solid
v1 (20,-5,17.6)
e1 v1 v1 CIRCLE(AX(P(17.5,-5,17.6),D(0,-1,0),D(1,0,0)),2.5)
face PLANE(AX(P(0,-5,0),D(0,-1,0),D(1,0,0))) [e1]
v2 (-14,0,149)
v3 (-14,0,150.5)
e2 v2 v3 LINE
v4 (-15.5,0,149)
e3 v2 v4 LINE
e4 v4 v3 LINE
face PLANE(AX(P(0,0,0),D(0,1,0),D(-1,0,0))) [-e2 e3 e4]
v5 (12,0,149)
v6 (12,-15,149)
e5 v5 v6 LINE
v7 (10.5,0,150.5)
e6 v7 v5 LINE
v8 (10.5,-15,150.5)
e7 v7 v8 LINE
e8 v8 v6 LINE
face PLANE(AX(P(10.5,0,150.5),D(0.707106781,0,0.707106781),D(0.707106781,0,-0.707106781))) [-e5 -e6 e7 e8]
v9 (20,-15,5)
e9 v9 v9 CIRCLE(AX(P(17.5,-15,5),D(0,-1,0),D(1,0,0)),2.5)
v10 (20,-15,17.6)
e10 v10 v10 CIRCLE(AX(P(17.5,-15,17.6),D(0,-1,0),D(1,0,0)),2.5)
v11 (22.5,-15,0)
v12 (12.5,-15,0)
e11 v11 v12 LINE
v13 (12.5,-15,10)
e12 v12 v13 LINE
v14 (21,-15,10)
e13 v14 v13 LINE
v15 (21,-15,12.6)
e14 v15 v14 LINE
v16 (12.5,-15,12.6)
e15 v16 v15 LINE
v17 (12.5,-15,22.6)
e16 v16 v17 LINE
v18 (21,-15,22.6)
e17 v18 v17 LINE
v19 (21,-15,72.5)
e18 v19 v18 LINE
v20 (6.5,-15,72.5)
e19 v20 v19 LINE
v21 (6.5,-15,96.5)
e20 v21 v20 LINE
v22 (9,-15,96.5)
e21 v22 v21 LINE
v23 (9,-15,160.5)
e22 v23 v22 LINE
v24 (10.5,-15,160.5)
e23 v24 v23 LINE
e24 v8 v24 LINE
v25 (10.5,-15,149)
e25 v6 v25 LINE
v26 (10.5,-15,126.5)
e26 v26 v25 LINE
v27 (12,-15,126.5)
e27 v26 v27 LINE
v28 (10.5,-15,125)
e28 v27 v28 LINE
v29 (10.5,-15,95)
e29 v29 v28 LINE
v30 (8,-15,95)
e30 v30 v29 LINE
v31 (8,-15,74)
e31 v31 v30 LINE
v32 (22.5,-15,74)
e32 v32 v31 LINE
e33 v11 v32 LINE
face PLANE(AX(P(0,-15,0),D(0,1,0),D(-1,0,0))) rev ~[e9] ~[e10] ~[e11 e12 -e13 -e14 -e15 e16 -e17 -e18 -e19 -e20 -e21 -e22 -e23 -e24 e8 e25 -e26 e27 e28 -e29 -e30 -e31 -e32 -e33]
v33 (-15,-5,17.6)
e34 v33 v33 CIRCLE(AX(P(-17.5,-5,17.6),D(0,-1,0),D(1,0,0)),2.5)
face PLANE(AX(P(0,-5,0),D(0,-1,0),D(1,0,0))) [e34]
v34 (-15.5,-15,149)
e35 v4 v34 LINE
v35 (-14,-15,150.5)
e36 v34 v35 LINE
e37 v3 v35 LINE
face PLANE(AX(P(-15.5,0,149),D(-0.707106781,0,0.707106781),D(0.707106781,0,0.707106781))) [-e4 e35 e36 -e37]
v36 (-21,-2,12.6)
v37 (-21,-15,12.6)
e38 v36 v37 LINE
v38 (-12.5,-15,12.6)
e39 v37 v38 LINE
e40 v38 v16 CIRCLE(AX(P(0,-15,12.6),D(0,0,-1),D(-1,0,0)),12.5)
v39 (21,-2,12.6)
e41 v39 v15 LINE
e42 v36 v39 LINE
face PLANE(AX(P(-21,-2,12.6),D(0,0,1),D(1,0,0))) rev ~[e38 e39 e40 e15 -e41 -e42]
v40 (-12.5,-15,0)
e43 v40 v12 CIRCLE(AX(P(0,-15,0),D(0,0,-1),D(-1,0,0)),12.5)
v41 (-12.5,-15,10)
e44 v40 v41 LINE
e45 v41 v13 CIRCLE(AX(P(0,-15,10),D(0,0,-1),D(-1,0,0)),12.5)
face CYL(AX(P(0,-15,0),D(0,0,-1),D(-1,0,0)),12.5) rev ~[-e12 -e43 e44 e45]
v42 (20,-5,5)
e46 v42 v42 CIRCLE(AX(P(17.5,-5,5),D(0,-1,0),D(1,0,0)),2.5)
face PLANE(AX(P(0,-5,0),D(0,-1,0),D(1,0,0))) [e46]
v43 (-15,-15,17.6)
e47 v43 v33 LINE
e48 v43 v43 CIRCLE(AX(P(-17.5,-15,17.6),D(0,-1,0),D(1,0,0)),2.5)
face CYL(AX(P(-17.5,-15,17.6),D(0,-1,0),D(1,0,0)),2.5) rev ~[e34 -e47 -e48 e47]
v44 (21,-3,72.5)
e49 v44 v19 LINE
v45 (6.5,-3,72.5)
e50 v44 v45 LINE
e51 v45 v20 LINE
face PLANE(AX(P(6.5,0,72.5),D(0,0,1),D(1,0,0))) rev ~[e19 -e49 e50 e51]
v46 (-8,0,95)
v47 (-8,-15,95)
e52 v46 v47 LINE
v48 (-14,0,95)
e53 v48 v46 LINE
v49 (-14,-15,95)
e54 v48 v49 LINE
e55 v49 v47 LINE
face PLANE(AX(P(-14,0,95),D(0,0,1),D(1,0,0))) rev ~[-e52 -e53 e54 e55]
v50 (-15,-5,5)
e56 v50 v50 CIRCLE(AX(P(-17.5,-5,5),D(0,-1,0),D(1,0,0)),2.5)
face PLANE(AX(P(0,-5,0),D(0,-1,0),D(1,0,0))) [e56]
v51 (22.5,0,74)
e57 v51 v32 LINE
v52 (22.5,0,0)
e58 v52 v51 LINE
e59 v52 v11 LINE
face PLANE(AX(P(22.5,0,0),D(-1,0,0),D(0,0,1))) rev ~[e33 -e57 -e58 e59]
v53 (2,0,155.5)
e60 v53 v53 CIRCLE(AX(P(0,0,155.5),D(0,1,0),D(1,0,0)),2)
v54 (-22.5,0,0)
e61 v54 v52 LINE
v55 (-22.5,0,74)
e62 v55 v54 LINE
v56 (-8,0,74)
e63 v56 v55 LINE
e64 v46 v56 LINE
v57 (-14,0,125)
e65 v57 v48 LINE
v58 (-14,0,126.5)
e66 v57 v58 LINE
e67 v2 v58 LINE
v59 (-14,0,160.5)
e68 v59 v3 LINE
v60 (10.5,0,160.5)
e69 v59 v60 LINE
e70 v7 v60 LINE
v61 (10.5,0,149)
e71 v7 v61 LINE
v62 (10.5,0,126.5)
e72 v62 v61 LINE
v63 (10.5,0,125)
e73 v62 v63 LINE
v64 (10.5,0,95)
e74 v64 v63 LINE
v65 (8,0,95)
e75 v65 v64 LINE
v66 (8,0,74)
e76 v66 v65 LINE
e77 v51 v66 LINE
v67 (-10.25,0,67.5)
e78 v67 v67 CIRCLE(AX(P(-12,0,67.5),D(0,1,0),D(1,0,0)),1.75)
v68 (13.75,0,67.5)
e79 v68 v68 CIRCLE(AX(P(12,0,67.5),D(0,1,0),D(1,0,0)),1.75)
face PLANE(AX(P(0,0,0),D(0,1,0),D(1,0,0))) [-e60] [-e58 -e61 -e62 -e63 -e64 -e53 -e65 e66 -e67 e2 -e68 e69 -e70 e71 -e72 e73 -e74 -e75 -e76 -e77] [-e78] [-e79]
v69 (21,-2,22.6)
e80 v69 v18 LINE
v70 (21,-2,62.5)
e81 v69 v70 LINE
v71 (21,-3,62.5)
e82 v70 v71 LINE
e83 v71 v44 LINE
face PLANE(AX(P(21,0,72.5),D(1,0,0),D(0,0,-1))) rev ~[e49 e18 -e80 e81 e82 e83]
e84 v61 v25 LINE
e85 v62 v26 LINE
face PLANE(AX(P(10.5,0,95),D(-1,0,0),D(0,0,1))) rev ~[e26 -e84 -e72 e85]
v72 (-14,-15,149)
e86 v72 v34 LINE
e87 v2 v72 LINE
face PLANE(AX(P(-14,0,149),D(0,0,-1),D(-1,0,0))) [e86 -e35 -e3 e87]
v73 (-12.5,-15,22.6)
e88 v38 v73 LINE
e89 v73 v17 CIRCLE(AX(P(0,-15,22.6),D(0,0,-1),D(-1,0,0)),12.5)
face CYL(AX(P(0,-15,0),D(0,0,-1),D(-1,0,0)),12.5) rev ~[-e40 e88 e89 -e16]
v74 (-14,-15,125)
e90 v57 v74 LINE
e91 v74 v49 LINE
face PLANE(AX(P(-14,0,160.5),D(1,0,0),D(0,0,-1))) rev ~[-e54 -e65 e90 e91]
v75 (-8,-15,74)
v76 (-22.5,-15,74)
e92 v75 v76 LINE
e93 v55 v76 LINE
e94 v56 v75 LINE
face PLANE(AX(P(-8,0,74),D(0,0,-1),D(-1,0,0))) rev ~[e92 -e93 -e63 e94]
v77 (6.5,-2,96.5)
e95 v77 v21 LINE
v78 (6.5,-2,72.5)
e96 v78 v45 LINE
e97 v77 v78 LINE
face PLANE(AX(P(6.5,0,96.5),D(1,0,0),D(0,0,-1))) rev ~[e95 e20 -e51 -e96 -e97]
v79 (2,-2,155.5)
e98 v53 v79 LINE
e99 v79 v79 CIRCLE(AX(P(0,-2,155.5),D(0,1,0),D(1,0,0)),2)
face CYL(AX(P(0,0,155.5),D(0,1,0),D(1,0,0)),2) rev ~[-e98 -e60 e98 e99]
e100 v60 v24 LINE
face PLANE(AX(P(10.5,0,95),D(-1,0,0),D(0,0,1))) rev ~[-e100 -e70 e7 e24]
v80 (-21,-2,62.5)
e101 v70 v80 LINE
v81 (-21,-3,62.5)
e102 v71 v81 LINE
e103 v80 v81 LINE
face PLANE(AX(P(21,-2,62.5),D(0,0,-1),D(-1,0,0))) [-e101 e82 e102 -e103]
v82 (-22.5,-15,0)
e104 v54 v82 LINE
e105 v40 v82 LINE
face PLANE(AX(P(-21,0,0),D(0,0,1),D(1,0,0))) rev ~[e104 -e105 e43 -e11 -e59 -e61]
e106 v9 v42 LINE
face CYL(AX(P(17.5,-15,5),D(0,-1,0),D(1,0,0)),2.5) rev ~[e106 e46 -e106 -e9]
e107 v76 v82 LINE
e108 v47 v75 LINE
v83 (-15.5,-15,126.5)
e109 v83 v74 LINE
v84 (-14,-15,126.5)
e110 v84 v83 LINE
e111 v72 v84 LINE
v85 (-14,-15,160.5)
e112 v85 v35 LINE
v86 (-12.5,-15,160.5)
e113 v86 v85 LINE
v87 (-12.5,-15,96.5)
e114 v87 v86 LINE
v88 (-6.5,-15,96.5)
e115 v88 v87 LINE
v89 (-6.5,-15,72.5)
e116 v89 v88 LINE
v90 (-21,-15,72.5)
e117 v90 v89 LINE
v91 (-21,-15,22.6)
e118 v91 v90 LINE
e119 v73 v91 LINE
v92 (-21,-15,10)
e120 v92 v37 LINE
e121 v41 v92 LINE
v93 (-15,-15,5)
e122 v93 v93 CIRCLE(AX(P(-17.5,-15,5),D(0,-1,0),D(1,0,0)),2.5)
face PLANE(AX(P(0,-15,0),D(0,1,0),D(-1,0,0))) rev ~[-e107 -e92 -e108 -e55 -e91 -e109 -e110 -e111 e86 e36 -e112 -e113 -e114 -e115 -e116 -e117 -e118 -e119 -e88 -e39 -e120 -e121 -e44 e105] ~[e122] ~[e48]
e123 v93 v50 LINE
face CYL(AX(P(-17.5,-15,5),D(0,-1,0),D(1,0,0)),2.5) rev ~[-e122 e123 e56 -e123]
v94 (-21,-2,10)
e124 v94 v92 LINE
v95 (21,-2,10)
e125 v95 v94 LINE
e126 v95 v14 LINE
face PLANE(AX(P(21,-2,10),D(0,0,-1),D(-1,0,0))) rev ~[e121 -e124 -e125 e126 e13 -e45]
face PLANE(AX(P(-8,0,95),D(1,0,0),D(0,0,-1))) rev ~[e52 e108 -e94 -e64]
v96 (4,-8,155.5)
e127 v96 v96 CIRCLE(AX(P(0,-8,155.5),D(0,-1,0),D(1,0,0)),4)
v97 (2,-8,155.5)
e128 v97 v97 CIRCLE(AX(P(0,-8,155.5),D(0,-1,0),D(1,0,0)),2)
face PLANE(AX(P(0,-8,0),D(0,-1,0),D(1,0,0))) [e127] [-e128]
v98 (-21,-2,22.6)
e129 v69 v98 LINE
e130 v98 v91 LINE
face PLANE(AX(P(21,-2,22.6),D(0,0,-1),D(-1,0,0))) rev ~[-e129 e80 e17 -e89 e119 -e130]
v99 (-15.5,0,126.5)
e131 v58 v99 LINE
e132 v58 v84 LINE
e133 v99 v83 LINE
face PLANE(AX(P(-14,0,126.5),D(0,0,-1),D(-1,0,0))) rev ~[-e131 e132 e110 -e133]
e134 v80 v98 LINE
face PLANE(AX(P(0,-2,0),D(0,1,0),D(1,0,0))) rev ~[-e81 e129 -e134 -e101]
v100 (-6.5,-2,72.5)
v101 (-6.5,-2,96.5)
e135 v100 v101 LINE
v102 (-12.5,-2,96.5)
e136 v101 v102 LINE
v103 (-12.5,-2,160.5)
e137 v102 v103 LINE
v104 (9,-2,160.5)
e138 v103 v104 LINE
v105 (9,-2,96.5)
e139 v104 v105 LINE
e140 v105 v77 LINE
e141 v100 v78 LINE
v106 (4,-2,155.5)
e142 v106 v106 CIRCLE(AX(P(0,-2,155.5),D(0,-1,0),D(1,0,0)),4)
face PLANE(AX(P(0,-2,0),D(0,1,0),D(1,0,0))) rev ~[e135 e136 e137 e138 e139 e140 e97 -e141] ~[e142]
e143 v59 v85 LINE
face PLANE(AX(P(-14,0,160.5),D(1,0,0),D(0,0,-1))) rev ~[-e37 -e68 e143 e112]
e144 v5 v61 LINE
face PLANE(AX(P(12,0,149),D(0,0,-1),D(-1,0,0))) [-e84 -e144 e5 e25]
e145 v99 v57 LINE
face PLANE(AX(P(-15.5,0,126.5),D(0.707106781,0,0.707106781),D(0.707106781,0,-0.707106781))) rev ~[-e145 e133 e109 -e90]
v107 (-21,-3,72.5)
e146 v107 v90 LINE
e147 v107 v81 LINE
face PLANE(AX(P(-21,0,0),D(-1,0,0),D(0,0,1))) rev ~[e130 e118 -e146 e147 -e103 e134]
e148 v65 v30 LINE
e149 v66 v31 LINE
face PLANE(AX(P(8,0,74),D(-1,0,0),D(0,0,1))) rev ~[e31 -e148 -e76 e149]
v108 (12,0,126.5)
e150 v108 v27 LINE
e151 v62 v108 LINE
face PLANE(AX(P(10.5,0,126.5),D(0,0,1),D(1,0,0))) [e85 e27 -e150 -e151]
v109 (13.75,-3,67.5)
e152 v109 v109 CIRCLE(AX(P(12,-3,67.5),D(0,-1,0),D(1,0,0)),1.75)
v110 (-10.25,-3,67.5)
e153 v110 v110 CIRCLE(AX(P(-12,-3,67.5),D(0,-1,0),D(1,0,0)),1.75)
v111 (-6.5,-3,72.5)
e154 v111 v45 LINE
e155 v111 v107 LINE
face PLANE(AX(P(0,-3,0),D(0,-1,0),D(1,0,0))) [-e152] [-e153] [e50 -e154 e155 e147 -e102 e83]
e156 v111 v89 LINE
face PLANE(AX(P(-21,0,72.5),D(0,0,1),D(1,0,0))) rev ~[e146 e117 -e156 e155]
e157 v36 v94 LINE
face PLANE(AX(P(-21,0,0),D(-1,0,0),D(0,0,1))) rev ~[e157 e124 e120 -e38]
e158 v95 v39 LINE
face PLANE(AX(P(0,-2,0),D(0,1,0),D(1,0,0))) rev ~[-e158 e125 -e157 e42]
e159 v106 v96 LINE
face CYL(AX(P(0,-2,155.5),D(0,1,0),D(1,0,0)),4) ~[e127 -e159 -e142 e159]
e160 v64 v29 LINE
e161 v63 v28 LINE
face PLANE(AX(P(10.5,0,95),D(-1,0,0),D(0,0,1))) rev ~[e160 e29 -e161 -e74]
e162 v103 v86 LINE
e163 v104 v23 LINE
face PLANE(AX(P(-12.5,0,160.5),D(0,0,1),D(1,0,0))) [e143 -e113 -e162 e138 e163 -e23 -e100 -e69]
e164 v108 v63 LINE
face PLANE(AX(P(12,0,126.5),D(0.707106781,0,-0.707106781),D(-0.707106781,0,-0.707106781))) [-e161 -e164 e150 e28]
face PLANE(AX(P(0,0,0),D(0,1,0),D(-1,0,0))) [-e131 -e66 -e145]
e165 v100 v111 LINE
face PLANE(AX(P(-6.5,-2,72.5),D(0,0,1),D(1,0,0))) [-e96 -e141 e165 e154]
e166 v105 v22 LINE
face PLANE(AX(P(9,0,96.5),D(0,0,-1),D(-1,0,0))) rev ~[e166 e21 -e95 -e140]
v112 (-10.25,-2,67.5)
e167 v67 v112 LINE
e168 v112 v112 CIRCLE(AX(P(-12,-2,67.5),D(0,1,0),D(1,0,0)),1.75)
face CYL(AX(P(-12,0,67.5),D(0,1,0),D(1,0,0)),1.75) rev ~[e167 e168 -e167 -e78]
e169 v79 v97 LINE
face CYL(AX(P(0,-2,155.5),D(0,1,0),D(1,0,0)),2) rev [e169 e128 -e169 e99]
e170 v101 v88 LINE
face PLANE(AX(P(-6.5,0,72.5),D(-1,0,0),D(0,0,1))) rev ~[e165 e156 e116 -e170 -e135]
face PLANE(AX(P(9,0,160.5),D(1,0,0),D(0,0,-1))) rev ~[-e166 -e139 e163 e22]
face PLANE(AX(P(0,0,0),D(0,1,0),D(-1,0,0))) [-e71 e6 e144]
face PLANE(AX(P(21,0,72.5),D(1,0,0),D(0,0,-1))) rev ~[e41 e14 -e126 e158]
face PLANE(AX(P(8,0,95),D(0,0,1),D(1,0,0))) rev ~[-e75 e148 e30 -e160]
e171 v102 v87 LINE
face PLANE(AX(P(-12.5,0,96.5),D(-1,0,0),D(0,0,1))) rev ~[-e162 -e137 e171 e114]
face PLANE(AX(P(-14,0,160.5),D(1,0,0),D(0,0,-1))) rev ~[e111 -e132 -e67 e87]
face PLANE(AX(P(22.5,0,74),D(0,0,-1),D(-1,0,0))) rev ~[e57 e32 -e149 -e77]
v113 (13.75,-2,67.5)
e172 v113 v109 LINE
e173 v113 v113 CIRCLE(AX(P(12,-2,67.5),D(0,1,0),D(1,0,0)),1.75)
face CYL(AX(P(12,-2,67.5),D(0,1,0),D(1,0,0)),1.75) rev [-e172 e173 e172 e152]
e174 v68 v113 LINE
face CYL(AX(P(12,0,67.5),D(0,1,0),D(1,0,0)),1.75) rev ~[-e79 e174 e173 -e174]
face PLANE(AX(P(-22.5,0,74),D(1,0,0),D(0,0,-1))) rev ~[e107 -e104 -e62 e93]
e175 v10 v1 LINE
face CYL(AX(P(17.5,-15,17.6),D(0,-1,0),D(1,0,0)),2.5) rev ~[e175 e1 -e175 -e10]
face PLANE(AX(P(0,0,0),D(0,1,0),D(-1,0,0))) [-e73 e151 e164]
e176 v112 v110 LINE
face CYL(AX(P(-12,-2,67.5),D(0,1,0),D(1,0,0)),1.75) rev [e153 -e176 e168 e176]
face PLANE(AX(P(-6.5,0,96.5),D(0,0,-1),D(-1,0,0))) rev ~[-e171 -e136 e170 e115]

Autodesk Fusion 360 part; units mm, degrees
sketch "スケッチ1" plane through (0, 0, 0) normal (0, 1, 0) x (1, 0, 0)
  line L0 (-21, 0) -> (21, 0)
  line L1 (21, 0) -> (21, -72.5)
  line L2 (21, -72.5) -> (-21, -72.5)
  line L3 (-21, -72.5) -> (-21, 0)
  line L4 (6.5, -72.5) -> (-6.5, -72.5)
  line L5 (-6.5, -72.5) -> (-6.5, -96.5)
  line L6 (-6.5, -96.5) -> (6.5, -96.5)
  line L7 (6.5, -96.5) -> (6.5, -72.5)
  line L8 (-12.5, -160.5) -> (9, -160.5)
  line L9 (9, -160.5) -> (9, -96.5)
  line L10 (9, -96.5) -> (-12.5, -96.5)
  line L11 (-12.5, -96.5) -> (-12.5, -160.5)
  line L12 (-21, -67.5) -> (21, -67.5) construction
  circle A0 centre (-12, -67.5) radius 1.75
  circle A1 centre (12, -67.5) radius 1.75
  line L13 (0, -1.75) -> (0, -22.5)
  circle A2 centre (0, -155.5) radius 2
  dimension "d1" = 42
  dimension "d2" = 5
  dimension "d3" = 3.5
  dimension "d4" = 3.5
  dimension "d5" = 24
  dimension "d6" = 72.5
  dimension "d7" = 13
  dimension "d8" = 2.5
  dimension "d9" = 6
  dimension "d10" = 24
  dimension "d11" = 64
  dimension "d12" = 4
  dimension "d13" = 5
extrude "押し出し1" add sketch "スケッチ1" against normal blind 2 makes body 1
sketch "スケッチ2" plane through (0, 0, 0) normal (0, 1, 0) x (-1, 0, 0)
  circle A0 centre (12, 67.5) radius 1.75
  circle A1 centre (-12, 67.5) radius 1.75
  circle A2 centre (0, 155.5) radius 2
  line L0 (6.5, 72.5) -> (6.5, 96.5)
  line L1 (6.5, 96.5) -> (12.5, 96.5)
  line L2 (12.5, 96.5) -> (12.5, 160.5)
  line L3 (12.5, 160.5) -> (-9, 160.5)
  line L4 (-9, 160.5) -> (-9, 96.5)
  line L5 (-9, 96.5) -> (-6.5, 96.5)
  line L6 (-6.5, 96.5) -> (-6.5, 72.5)
  line L7 (-6.5, 72.5) -> (-21, 72.5)
  line L8 (-21, 72.5) -> (-21, 0)
  line L9 (-21, 0) -> (21, 0)
  line L10 (21, 0) -> (21, 72.5)
  line L11 (21, 72.5) -> (6.5, 72.5)
  line L12 (-21, 0) -> (-22.5, 0)
  line L13 (-22.5, 0) -> (-22.5, 74)
  line L14 (-22.5, 74) -> (-8, 74)
  line L15 (-8, 74) -> (-8, 95)
  line L16 (-8, 95) -> (-10.5, 95)
  line L17 (-10.5, 95) -> (-10.5, 160.5)
  line L18 (-10.5, 160.5) -> (-9, 160.5)
  line L19 (12.5, 160.5) -> (14, 160.5)
  line L20 (14, 160.5) -> (14, 95)
  line L21 (14, 95) -> (8, 95)
  line L22 (8, 95) -> (8, 74)
  line L23 (8, 74) -> (22.5, 74)
  line L24 (22.5, 74) -> (22.5, 0)
  line L25 (22.5, 0) -> (21, 0)
  dimension "d16" = 1.5
  dimension "d17" = 1.5
  dimension "d18" = 1.5
  dimension "d19" = 1.5
  dimension "d20" = 1.5
  dimension "d22" = 1.5
  dimension "d23" = 1.5
  dimension "d24" = 1.5
  dimension "d25" = 1.5
  dimension "d26" = 1.5
extrude "押し出し2" add sketch "スケッチ2" against normal blind 15 contours L0 L1 L2 L10 L11 L19 L20 L21 L22 L23 L24 L25 | L4 L5 L6 L7 L8 L12 L13 L14 L15 L16 L17 L18 bodies 1
sketch "スケッチ3" plane through (0, -2, 0) normal (0, -1, 0) x (1, 0, 0)
  circle A0 centre (-12, 67.5) radius 1.75
  circle A1 centre (12, 67.5) radius 1.75
  circle A2 centre (0, 155.5) radius 2
  line L0 (-6.5, 96.5) -> (-6.5, 72.5)
  line L1 (-6.5, 72.5) -> (-21, 72.5)
  line L2 (-21, 72.5) -> (-21, 0)
  line L3 (-21, 0) -> (21, 0)
  line L4 (21, 0) -> (21, 72.5)
  line L5 (21, 72.5) -> (6.5, 72.5)
  line L6 (6.5, 72.5) -> (6.5, 96.5)
  line L7 (6.5, 96.5) -> (9, 96.5)
  line L8 (9, 96.5) -> (9, 160.5)
  line L9 (9, 160.5) -> (-12.5, 160.5)
  line L10 (-12.5, 160.5) -> (-12.5, 96.5)
  line L11 (-12.5, 96.5) -> (-6.5, 96.5)
  line L12 (-21, 0) -> (21, 0)
  line L13 (21, 0) -> (21, 10)
  line L14 (21, 10) -> (-21, 10)
  line L15 (-21, 10) -> (-21, 0)
  line L16 (-21, 12.6) -> (21, 12.6)
  line L17 (21, 12.6) -> (21, 22.6)
  line L18 (21, 22.6) -> (-21, 22.6)
  line L19 (-21, 22.6) -> (-21, 12.6)
  dimension "d29" = 10
  dimension "d30" = 10
  dimension "d31" = 2.6
extrude "押し出し3" add sketch "スケッチ3" along normal up to surface (13 mm away) contours L2 L4 L16 L17 L18 L19 | L2 L3 L4 L12 L13 L14 L15 bodies 1
sketch "スケッチ4" plane through (0, 0, 0) normal (0, 0, -1) x (1, 0, 0)
  line L0 (-22.5, 0) -> (22.5, 0)
  line L1 (22.5, 0) -> (22.5, 15)
  line L2 (22.5, 15) -> (-22.5, 15)
  line L3 (-22.5, 15) -> (-22.5, 0)
  arc A0 (-12.5, 15) -> (12.5, 15) centre (0, 15) ccw
  dimension "d34" = 25
extrude "押し出し4" cut sketch "スケッチ4" against normal up to surface (22.6 mm away) contours L2 A0 bodies 1
sketch "スケッチ10" plane through (0, -2, 0) normal (0, -1, 0) x (1, 0, 0)
  circle A0 centre (12, 67.5) radius 1.75
  circle A1 centre (0, 155.5) radius 2
  circle A2 centre (-12, 67.5) radius 1.75
  line L0 (-21, 22.6) -> (21, 22.6)
  line L1 (21, 22.6) -> (21, 72.5)
  line L2 (21, 72.5) -> (6.5, 72.5)
  line L3 (6.5, 72.5) -> (6.5, 96.5)
  line L4 (6.5, 96.5) -> (9, 96.5)
  line L5 (9, 96.5) -> (9, 160.5)
  line L6 (9, 160.5) -> (-12.5, 160.5)
  line L7 (-12.5, 160.5) -> (-12.5, 96.5)
  line L8 (-12.5, 96.5) -> (-6.5, 96.5)
  line L9 (-6.5, 96.5) -> (-6.5, 72.5)
  line L10 (-6.5, 72.5) -> (-21, 72.5)
  line L11 (-21, 72.5) -> (-21, 22.6)
  circle A3 centre (0, 155.5) radius 4
  dimension "d48" = 8
extrude "押し出し9" add sketch "スケッチ10" along normal blind 6 contours A3 bodies 1
sketch "スケッチ9" plane through (0, -2, 0) normal (0, -1, 0) x (1, 0, 0)
  circle A0 centre (12, 67.5) radius 1.75
  circle A1 centre (-12, 67.5) radius 1.75
  line L0 (-21, 22.6) -> (21, 22.6)
  line L1 (21, 22.6) -> (21, 72.5)
  line L2 (21, 72.5) -> (6.5, 72.5)
  line L3 (6.5, 72.5) -> (6.5, 96.5)
  line L4 (6.5, 96.5) -> (9, 96.5)
  line L5 (9, 96.5) -> (9, 160.5)
  line L6 (9, 160.5) -> (-12.5, 160.5)
  line L7 (-12.5, 160.5) -> (-12.5, 96.5)
  line L8 (-12.5, 96.5) -> (-6.5, 96.5)
  line L9 (-6.5, 96.5) -> (-6.5, 72.5)
  line L10 (-6.5, 72.5) -> (-21, 72.5)
  line L11 (-21, 72.5) -> (-21, 22.6)
  line L12 (-21, 72.5) -> (21, 72.5)
  line L13 (21, 72.5) -> (21, 62.5)
  line L14 (21, 62.5) -> (-21, 62.5)
  line L15 (-21, 62.5) -> (-21, 72.5)
  circle A2 centre (0, 155.5) radius 4
  dimension "d45" = 10
extrude "押し出し8" add sketch "スケッチ9" along normal blind 1 contours L1 L2 L10 L11 L12 L13 L14 L15 bodies 1
ref_plane "作業平面1" through (0, -20, 80.25) normal (0, -1, 0) x (0, 0, -1)
sketch "スケッチ6" plane through (0, -20, 0) normal (0, -1, 0) x (-1, 0, 0)
  line L0 (-22.5, 0) -> (22.5, 0)
  line L1 (22.5, 0) -> (22.5, -22.6)
  line L2 (22.5, -22.6) -> (-22.5, -22.6)
  line L3 (-22.5, -22.6) -> (-22.5, 0)
  line L4 (-22.5, 0) -> (-22.5, -74)
  line L5 (-12.5, -22.6) -> (-21, -22.6)
  line L6 (-12.5, 0) -> (-22.5, 0)
  line L7 (22.5, -74) -> (22.5, 0)
extrude "押し出し5" add sketch "スケッチ6" along normal blind 15 separate body makes body 2
sketch "スケッチ7" plane through (0, 0, 0) normal (0, 0, -1) x (1, 0, 0)
  line L0 (-22.5, 20) -> (22.5, 20)
  line L1 (22.5, 20) -> (22.5, 35)
  line L2 (22.5, 35) -> (-22.5, 35)
  line L3 (-22.5, 35) -> (-22.5, 20)
  arc A0 (12.5, 20) -> (-12.5, 20) centre (0, 20) ccw
  dimension "d40" = 25
extrude "押し出し6" cut sketch "スケッチ7" against normal up to surface (22.6 mm away) contours L0 A0 bodies 2
sketch "スケッチ8" plane through (0, -20, 0) normal (0, 1, 0) x (-1, 0, 0)
  line L0 (-12.5, 0) -> (-12.5, 22.6)
  line L1 (-12.5, 22.6) -> (-22.5, 22.6)
  line L2 (-22.5, 22.6) -> (-22.5, 0)
  line L3 (-22.5, 0) -> (-12.5, 0)
  line L4 (21, 12.6) -> (-21, 12.6)
  line L5 (-21, 12.6) -> (-21, 10)
  line L6 (-21, 10) -> (21, 10)
  line L7 (21, 10) -> (21, 12.6)
  point P0 (21, 12.6)
  point P1 (21, 10)
  point P2 (-21, 12.6)
extrude "押し出し7" cut sketch "スケッチ8" against normal blind 13 contours L0 L4 L5 L6 | L0 L4 L6 L7 bodies 2
sketch "スケッチ11" plane through (0, -15, 0) normal (0, -1, 0) x (1, 0, 0)
  line L0 (-12.5, 0) -> (-12.5, 10)
  line L1 (-12.5, 10) -> (-21, 10)
  line L2 (-21, 10) -> (-21, 12.6)
  line L3 (-21, 12.6) -> (-12.5, 12.6)
  line L4 (-12.5, 12.6) -> (-12.5, 22.6)
  line L5 (-12.5, 22.6) -> (-21, 22.6)
  line L6 (-21, 22.6) -> (-21, 72.5)
  line L7 (-21, 72.5) -> (-6.5, 72.5)
  line L8 (-6.5, 72.5) -> (-6.5, 96.5)
  line L9 (-6.5, 96.5) -> (-12.5, 96.5)
  line L10 (-12.5, 96.5) -> (-12.5, 160.5)
  line L11 (-12.5, 160.5) -> (-14, 160.5)
  line L12 (-14, 160.5) -> (-14, 95)
  line L13 (-14, 95) -> (-8, 95)
  line L14 (-8, 95) -> (-8, 74)
  line L15 (-8, 74) -> (-22.5, 74)
  line L16 (-22.5, 74) -> (-22.5, 0)
  line L17 (-22.5, 0) -> (-12.5, 0)
  line L18 (-17.5, 17.6) -> (17.5, 17.6) construction
  line L19 (17.5, 17.6) -> (17.5, 5) construction
  line L20 (17.5, 5) -> (-17.5, 5) construction
  line L21 (-17.5, 5) -> (-17.5, 17.6) construction
  line L22 (22.5, 0) -> (22.5, 74)
  circle A0 centre (-17.5, 17.6) radius 2.5
  circle A1 centre (17.5, 17.6) radius 2.5
  circle A2 centre (-17.5, 5) radius 2.5
  circle A3 centre (17.5, 5) radius 2.5
  dimension "d51" = 5
  dimension "d52" = 5
  dimension "d53" = 5
  dimension "d54" = 5
  dimension "d55" = 5
  dimension "d56" = 5
  dimension "d57" = 5
  dimension "d58" = 5
extrude "押し出し10" cut sketch "スケッチ11" against normal blind 10 contours A0 | A1 | A2 | A3 bodies 1
sketch "スケッチ12" plane through (0, -20, 0) normal (0, 1, 0) x (-1, 0, 0)
  line L0 (12.5, 12.6) -> (21, 12.6)
  line L1 (21, 12.6) -> (21, 10)
  line L2 (21, 10) -> (12.5, 10)
  line L3 (12.5, 10) -> (12.5, 0)
  line L4 (12.5, 0) -> (22.5, 0)
  line L5 (22.5, 0) -> (22.5, 22.6)
  line L6 (22.5, 22.6) -> (12.5, 22.6)
  line L7 (12.5, 22.6) -> (12.5, 12.6)
  circle A0 centre (17.5, 17.6) radius 2.5
  circle A1 centre (17.5, 17.6) radius 2.5
  circle A2 centre (17.5, 5) radius 2.5
  circle A3 centre (-17.5, 17.6) radius 2.5
  circle A4 centre (-17.5, 5) radius 2.5
  circle A5 centre (-17.5, 17.6) radius 2.25
  circle A6 centre (-17.5, 5) radius 2.25
  circle A7 centre (17.5, 17.6) radius 2.25
  circle A8 centre (17.5, 5) radius 2.25
  dimension "d63" = 4.5
  dimension "d64" = 4.5
  dimension "d65" = 4.5
  dimension "d66" = 4.5
extrude "押し出し12" add sketch "スケッチ12" along normal blind 6 contours A5 | A6 | A7 | A8 bodies 2
sketch "スケッチ14" plane through (0, 0, 0) normal (0, 1, 0) x (-1, 0, 0)
  circle A0 centre (0, 155.5) radius 2
  circle A1 centre (12, 67.5) radius 1.75
  circle A2 centre (-12, 67.5) radius 1.75
  line L0 (14, 160.5) -> (-10.5, 160.5)
  line L1 (-10.5, 160.5) -> (-10.5, 95)
  line L2 (-10.5, 95) -> (-8, 95)
  line L3 (-8, 95) -> (-8, 74)
  line L4 (-8, 74) -> (-22.5, 74)
  line L5 (-22.5, 74) -> (-22.5, 0)
  line L6 (-22.5, 0) -> (22.5, 0)
  line L7 (22.5, 0) -> (22.5, 74)
  line L8 (22.5, 74) -> (8, 74)
  line L9 (8, 74) -> (8, 95)
  line L10 (8, 95) -> (14, 95)
  line L11 (14, 95) -> (14, 160.5)
  line L12 (14, 149) -> (15.5, 149)
  line L13 (15.5, 149) -> (14, 150.5)
  line L14 (14, 126.5) -> (15.5, 126.5)
  line L15 (15.5, 126.5) -> (14, 125)
  line L16 (-10.5, 150.5) -> (-12, 149)
  line L17 (-12, 149) -> (-10.5, 149)
  line L18 (-10.5, 126.5) -> (-12, 126.5)
  line L19 (-12, 126.5) -> (-10.5, 125)
  dimension "d79" = 10
  dimension "d80" = 10
  dimension "d81" = 1.5
  dimension "d82" = 1.5
  dimension "d83" = 22.5
  dimension "d84" = 1.5
  dimension "d85" = 1.5
  dimension "d86" = 1.5
  dimension "d88" = 1.5
  dimension "d89" = 1.5
extrude "押し出し13" add sketch "スケッチ14" against normal up to surface (15 mm away) contours L11 L12 L13 | L1 L16 L17 | L11 L14 L15 | L1 L18 L19 bodies 1
hidden bodies 2
